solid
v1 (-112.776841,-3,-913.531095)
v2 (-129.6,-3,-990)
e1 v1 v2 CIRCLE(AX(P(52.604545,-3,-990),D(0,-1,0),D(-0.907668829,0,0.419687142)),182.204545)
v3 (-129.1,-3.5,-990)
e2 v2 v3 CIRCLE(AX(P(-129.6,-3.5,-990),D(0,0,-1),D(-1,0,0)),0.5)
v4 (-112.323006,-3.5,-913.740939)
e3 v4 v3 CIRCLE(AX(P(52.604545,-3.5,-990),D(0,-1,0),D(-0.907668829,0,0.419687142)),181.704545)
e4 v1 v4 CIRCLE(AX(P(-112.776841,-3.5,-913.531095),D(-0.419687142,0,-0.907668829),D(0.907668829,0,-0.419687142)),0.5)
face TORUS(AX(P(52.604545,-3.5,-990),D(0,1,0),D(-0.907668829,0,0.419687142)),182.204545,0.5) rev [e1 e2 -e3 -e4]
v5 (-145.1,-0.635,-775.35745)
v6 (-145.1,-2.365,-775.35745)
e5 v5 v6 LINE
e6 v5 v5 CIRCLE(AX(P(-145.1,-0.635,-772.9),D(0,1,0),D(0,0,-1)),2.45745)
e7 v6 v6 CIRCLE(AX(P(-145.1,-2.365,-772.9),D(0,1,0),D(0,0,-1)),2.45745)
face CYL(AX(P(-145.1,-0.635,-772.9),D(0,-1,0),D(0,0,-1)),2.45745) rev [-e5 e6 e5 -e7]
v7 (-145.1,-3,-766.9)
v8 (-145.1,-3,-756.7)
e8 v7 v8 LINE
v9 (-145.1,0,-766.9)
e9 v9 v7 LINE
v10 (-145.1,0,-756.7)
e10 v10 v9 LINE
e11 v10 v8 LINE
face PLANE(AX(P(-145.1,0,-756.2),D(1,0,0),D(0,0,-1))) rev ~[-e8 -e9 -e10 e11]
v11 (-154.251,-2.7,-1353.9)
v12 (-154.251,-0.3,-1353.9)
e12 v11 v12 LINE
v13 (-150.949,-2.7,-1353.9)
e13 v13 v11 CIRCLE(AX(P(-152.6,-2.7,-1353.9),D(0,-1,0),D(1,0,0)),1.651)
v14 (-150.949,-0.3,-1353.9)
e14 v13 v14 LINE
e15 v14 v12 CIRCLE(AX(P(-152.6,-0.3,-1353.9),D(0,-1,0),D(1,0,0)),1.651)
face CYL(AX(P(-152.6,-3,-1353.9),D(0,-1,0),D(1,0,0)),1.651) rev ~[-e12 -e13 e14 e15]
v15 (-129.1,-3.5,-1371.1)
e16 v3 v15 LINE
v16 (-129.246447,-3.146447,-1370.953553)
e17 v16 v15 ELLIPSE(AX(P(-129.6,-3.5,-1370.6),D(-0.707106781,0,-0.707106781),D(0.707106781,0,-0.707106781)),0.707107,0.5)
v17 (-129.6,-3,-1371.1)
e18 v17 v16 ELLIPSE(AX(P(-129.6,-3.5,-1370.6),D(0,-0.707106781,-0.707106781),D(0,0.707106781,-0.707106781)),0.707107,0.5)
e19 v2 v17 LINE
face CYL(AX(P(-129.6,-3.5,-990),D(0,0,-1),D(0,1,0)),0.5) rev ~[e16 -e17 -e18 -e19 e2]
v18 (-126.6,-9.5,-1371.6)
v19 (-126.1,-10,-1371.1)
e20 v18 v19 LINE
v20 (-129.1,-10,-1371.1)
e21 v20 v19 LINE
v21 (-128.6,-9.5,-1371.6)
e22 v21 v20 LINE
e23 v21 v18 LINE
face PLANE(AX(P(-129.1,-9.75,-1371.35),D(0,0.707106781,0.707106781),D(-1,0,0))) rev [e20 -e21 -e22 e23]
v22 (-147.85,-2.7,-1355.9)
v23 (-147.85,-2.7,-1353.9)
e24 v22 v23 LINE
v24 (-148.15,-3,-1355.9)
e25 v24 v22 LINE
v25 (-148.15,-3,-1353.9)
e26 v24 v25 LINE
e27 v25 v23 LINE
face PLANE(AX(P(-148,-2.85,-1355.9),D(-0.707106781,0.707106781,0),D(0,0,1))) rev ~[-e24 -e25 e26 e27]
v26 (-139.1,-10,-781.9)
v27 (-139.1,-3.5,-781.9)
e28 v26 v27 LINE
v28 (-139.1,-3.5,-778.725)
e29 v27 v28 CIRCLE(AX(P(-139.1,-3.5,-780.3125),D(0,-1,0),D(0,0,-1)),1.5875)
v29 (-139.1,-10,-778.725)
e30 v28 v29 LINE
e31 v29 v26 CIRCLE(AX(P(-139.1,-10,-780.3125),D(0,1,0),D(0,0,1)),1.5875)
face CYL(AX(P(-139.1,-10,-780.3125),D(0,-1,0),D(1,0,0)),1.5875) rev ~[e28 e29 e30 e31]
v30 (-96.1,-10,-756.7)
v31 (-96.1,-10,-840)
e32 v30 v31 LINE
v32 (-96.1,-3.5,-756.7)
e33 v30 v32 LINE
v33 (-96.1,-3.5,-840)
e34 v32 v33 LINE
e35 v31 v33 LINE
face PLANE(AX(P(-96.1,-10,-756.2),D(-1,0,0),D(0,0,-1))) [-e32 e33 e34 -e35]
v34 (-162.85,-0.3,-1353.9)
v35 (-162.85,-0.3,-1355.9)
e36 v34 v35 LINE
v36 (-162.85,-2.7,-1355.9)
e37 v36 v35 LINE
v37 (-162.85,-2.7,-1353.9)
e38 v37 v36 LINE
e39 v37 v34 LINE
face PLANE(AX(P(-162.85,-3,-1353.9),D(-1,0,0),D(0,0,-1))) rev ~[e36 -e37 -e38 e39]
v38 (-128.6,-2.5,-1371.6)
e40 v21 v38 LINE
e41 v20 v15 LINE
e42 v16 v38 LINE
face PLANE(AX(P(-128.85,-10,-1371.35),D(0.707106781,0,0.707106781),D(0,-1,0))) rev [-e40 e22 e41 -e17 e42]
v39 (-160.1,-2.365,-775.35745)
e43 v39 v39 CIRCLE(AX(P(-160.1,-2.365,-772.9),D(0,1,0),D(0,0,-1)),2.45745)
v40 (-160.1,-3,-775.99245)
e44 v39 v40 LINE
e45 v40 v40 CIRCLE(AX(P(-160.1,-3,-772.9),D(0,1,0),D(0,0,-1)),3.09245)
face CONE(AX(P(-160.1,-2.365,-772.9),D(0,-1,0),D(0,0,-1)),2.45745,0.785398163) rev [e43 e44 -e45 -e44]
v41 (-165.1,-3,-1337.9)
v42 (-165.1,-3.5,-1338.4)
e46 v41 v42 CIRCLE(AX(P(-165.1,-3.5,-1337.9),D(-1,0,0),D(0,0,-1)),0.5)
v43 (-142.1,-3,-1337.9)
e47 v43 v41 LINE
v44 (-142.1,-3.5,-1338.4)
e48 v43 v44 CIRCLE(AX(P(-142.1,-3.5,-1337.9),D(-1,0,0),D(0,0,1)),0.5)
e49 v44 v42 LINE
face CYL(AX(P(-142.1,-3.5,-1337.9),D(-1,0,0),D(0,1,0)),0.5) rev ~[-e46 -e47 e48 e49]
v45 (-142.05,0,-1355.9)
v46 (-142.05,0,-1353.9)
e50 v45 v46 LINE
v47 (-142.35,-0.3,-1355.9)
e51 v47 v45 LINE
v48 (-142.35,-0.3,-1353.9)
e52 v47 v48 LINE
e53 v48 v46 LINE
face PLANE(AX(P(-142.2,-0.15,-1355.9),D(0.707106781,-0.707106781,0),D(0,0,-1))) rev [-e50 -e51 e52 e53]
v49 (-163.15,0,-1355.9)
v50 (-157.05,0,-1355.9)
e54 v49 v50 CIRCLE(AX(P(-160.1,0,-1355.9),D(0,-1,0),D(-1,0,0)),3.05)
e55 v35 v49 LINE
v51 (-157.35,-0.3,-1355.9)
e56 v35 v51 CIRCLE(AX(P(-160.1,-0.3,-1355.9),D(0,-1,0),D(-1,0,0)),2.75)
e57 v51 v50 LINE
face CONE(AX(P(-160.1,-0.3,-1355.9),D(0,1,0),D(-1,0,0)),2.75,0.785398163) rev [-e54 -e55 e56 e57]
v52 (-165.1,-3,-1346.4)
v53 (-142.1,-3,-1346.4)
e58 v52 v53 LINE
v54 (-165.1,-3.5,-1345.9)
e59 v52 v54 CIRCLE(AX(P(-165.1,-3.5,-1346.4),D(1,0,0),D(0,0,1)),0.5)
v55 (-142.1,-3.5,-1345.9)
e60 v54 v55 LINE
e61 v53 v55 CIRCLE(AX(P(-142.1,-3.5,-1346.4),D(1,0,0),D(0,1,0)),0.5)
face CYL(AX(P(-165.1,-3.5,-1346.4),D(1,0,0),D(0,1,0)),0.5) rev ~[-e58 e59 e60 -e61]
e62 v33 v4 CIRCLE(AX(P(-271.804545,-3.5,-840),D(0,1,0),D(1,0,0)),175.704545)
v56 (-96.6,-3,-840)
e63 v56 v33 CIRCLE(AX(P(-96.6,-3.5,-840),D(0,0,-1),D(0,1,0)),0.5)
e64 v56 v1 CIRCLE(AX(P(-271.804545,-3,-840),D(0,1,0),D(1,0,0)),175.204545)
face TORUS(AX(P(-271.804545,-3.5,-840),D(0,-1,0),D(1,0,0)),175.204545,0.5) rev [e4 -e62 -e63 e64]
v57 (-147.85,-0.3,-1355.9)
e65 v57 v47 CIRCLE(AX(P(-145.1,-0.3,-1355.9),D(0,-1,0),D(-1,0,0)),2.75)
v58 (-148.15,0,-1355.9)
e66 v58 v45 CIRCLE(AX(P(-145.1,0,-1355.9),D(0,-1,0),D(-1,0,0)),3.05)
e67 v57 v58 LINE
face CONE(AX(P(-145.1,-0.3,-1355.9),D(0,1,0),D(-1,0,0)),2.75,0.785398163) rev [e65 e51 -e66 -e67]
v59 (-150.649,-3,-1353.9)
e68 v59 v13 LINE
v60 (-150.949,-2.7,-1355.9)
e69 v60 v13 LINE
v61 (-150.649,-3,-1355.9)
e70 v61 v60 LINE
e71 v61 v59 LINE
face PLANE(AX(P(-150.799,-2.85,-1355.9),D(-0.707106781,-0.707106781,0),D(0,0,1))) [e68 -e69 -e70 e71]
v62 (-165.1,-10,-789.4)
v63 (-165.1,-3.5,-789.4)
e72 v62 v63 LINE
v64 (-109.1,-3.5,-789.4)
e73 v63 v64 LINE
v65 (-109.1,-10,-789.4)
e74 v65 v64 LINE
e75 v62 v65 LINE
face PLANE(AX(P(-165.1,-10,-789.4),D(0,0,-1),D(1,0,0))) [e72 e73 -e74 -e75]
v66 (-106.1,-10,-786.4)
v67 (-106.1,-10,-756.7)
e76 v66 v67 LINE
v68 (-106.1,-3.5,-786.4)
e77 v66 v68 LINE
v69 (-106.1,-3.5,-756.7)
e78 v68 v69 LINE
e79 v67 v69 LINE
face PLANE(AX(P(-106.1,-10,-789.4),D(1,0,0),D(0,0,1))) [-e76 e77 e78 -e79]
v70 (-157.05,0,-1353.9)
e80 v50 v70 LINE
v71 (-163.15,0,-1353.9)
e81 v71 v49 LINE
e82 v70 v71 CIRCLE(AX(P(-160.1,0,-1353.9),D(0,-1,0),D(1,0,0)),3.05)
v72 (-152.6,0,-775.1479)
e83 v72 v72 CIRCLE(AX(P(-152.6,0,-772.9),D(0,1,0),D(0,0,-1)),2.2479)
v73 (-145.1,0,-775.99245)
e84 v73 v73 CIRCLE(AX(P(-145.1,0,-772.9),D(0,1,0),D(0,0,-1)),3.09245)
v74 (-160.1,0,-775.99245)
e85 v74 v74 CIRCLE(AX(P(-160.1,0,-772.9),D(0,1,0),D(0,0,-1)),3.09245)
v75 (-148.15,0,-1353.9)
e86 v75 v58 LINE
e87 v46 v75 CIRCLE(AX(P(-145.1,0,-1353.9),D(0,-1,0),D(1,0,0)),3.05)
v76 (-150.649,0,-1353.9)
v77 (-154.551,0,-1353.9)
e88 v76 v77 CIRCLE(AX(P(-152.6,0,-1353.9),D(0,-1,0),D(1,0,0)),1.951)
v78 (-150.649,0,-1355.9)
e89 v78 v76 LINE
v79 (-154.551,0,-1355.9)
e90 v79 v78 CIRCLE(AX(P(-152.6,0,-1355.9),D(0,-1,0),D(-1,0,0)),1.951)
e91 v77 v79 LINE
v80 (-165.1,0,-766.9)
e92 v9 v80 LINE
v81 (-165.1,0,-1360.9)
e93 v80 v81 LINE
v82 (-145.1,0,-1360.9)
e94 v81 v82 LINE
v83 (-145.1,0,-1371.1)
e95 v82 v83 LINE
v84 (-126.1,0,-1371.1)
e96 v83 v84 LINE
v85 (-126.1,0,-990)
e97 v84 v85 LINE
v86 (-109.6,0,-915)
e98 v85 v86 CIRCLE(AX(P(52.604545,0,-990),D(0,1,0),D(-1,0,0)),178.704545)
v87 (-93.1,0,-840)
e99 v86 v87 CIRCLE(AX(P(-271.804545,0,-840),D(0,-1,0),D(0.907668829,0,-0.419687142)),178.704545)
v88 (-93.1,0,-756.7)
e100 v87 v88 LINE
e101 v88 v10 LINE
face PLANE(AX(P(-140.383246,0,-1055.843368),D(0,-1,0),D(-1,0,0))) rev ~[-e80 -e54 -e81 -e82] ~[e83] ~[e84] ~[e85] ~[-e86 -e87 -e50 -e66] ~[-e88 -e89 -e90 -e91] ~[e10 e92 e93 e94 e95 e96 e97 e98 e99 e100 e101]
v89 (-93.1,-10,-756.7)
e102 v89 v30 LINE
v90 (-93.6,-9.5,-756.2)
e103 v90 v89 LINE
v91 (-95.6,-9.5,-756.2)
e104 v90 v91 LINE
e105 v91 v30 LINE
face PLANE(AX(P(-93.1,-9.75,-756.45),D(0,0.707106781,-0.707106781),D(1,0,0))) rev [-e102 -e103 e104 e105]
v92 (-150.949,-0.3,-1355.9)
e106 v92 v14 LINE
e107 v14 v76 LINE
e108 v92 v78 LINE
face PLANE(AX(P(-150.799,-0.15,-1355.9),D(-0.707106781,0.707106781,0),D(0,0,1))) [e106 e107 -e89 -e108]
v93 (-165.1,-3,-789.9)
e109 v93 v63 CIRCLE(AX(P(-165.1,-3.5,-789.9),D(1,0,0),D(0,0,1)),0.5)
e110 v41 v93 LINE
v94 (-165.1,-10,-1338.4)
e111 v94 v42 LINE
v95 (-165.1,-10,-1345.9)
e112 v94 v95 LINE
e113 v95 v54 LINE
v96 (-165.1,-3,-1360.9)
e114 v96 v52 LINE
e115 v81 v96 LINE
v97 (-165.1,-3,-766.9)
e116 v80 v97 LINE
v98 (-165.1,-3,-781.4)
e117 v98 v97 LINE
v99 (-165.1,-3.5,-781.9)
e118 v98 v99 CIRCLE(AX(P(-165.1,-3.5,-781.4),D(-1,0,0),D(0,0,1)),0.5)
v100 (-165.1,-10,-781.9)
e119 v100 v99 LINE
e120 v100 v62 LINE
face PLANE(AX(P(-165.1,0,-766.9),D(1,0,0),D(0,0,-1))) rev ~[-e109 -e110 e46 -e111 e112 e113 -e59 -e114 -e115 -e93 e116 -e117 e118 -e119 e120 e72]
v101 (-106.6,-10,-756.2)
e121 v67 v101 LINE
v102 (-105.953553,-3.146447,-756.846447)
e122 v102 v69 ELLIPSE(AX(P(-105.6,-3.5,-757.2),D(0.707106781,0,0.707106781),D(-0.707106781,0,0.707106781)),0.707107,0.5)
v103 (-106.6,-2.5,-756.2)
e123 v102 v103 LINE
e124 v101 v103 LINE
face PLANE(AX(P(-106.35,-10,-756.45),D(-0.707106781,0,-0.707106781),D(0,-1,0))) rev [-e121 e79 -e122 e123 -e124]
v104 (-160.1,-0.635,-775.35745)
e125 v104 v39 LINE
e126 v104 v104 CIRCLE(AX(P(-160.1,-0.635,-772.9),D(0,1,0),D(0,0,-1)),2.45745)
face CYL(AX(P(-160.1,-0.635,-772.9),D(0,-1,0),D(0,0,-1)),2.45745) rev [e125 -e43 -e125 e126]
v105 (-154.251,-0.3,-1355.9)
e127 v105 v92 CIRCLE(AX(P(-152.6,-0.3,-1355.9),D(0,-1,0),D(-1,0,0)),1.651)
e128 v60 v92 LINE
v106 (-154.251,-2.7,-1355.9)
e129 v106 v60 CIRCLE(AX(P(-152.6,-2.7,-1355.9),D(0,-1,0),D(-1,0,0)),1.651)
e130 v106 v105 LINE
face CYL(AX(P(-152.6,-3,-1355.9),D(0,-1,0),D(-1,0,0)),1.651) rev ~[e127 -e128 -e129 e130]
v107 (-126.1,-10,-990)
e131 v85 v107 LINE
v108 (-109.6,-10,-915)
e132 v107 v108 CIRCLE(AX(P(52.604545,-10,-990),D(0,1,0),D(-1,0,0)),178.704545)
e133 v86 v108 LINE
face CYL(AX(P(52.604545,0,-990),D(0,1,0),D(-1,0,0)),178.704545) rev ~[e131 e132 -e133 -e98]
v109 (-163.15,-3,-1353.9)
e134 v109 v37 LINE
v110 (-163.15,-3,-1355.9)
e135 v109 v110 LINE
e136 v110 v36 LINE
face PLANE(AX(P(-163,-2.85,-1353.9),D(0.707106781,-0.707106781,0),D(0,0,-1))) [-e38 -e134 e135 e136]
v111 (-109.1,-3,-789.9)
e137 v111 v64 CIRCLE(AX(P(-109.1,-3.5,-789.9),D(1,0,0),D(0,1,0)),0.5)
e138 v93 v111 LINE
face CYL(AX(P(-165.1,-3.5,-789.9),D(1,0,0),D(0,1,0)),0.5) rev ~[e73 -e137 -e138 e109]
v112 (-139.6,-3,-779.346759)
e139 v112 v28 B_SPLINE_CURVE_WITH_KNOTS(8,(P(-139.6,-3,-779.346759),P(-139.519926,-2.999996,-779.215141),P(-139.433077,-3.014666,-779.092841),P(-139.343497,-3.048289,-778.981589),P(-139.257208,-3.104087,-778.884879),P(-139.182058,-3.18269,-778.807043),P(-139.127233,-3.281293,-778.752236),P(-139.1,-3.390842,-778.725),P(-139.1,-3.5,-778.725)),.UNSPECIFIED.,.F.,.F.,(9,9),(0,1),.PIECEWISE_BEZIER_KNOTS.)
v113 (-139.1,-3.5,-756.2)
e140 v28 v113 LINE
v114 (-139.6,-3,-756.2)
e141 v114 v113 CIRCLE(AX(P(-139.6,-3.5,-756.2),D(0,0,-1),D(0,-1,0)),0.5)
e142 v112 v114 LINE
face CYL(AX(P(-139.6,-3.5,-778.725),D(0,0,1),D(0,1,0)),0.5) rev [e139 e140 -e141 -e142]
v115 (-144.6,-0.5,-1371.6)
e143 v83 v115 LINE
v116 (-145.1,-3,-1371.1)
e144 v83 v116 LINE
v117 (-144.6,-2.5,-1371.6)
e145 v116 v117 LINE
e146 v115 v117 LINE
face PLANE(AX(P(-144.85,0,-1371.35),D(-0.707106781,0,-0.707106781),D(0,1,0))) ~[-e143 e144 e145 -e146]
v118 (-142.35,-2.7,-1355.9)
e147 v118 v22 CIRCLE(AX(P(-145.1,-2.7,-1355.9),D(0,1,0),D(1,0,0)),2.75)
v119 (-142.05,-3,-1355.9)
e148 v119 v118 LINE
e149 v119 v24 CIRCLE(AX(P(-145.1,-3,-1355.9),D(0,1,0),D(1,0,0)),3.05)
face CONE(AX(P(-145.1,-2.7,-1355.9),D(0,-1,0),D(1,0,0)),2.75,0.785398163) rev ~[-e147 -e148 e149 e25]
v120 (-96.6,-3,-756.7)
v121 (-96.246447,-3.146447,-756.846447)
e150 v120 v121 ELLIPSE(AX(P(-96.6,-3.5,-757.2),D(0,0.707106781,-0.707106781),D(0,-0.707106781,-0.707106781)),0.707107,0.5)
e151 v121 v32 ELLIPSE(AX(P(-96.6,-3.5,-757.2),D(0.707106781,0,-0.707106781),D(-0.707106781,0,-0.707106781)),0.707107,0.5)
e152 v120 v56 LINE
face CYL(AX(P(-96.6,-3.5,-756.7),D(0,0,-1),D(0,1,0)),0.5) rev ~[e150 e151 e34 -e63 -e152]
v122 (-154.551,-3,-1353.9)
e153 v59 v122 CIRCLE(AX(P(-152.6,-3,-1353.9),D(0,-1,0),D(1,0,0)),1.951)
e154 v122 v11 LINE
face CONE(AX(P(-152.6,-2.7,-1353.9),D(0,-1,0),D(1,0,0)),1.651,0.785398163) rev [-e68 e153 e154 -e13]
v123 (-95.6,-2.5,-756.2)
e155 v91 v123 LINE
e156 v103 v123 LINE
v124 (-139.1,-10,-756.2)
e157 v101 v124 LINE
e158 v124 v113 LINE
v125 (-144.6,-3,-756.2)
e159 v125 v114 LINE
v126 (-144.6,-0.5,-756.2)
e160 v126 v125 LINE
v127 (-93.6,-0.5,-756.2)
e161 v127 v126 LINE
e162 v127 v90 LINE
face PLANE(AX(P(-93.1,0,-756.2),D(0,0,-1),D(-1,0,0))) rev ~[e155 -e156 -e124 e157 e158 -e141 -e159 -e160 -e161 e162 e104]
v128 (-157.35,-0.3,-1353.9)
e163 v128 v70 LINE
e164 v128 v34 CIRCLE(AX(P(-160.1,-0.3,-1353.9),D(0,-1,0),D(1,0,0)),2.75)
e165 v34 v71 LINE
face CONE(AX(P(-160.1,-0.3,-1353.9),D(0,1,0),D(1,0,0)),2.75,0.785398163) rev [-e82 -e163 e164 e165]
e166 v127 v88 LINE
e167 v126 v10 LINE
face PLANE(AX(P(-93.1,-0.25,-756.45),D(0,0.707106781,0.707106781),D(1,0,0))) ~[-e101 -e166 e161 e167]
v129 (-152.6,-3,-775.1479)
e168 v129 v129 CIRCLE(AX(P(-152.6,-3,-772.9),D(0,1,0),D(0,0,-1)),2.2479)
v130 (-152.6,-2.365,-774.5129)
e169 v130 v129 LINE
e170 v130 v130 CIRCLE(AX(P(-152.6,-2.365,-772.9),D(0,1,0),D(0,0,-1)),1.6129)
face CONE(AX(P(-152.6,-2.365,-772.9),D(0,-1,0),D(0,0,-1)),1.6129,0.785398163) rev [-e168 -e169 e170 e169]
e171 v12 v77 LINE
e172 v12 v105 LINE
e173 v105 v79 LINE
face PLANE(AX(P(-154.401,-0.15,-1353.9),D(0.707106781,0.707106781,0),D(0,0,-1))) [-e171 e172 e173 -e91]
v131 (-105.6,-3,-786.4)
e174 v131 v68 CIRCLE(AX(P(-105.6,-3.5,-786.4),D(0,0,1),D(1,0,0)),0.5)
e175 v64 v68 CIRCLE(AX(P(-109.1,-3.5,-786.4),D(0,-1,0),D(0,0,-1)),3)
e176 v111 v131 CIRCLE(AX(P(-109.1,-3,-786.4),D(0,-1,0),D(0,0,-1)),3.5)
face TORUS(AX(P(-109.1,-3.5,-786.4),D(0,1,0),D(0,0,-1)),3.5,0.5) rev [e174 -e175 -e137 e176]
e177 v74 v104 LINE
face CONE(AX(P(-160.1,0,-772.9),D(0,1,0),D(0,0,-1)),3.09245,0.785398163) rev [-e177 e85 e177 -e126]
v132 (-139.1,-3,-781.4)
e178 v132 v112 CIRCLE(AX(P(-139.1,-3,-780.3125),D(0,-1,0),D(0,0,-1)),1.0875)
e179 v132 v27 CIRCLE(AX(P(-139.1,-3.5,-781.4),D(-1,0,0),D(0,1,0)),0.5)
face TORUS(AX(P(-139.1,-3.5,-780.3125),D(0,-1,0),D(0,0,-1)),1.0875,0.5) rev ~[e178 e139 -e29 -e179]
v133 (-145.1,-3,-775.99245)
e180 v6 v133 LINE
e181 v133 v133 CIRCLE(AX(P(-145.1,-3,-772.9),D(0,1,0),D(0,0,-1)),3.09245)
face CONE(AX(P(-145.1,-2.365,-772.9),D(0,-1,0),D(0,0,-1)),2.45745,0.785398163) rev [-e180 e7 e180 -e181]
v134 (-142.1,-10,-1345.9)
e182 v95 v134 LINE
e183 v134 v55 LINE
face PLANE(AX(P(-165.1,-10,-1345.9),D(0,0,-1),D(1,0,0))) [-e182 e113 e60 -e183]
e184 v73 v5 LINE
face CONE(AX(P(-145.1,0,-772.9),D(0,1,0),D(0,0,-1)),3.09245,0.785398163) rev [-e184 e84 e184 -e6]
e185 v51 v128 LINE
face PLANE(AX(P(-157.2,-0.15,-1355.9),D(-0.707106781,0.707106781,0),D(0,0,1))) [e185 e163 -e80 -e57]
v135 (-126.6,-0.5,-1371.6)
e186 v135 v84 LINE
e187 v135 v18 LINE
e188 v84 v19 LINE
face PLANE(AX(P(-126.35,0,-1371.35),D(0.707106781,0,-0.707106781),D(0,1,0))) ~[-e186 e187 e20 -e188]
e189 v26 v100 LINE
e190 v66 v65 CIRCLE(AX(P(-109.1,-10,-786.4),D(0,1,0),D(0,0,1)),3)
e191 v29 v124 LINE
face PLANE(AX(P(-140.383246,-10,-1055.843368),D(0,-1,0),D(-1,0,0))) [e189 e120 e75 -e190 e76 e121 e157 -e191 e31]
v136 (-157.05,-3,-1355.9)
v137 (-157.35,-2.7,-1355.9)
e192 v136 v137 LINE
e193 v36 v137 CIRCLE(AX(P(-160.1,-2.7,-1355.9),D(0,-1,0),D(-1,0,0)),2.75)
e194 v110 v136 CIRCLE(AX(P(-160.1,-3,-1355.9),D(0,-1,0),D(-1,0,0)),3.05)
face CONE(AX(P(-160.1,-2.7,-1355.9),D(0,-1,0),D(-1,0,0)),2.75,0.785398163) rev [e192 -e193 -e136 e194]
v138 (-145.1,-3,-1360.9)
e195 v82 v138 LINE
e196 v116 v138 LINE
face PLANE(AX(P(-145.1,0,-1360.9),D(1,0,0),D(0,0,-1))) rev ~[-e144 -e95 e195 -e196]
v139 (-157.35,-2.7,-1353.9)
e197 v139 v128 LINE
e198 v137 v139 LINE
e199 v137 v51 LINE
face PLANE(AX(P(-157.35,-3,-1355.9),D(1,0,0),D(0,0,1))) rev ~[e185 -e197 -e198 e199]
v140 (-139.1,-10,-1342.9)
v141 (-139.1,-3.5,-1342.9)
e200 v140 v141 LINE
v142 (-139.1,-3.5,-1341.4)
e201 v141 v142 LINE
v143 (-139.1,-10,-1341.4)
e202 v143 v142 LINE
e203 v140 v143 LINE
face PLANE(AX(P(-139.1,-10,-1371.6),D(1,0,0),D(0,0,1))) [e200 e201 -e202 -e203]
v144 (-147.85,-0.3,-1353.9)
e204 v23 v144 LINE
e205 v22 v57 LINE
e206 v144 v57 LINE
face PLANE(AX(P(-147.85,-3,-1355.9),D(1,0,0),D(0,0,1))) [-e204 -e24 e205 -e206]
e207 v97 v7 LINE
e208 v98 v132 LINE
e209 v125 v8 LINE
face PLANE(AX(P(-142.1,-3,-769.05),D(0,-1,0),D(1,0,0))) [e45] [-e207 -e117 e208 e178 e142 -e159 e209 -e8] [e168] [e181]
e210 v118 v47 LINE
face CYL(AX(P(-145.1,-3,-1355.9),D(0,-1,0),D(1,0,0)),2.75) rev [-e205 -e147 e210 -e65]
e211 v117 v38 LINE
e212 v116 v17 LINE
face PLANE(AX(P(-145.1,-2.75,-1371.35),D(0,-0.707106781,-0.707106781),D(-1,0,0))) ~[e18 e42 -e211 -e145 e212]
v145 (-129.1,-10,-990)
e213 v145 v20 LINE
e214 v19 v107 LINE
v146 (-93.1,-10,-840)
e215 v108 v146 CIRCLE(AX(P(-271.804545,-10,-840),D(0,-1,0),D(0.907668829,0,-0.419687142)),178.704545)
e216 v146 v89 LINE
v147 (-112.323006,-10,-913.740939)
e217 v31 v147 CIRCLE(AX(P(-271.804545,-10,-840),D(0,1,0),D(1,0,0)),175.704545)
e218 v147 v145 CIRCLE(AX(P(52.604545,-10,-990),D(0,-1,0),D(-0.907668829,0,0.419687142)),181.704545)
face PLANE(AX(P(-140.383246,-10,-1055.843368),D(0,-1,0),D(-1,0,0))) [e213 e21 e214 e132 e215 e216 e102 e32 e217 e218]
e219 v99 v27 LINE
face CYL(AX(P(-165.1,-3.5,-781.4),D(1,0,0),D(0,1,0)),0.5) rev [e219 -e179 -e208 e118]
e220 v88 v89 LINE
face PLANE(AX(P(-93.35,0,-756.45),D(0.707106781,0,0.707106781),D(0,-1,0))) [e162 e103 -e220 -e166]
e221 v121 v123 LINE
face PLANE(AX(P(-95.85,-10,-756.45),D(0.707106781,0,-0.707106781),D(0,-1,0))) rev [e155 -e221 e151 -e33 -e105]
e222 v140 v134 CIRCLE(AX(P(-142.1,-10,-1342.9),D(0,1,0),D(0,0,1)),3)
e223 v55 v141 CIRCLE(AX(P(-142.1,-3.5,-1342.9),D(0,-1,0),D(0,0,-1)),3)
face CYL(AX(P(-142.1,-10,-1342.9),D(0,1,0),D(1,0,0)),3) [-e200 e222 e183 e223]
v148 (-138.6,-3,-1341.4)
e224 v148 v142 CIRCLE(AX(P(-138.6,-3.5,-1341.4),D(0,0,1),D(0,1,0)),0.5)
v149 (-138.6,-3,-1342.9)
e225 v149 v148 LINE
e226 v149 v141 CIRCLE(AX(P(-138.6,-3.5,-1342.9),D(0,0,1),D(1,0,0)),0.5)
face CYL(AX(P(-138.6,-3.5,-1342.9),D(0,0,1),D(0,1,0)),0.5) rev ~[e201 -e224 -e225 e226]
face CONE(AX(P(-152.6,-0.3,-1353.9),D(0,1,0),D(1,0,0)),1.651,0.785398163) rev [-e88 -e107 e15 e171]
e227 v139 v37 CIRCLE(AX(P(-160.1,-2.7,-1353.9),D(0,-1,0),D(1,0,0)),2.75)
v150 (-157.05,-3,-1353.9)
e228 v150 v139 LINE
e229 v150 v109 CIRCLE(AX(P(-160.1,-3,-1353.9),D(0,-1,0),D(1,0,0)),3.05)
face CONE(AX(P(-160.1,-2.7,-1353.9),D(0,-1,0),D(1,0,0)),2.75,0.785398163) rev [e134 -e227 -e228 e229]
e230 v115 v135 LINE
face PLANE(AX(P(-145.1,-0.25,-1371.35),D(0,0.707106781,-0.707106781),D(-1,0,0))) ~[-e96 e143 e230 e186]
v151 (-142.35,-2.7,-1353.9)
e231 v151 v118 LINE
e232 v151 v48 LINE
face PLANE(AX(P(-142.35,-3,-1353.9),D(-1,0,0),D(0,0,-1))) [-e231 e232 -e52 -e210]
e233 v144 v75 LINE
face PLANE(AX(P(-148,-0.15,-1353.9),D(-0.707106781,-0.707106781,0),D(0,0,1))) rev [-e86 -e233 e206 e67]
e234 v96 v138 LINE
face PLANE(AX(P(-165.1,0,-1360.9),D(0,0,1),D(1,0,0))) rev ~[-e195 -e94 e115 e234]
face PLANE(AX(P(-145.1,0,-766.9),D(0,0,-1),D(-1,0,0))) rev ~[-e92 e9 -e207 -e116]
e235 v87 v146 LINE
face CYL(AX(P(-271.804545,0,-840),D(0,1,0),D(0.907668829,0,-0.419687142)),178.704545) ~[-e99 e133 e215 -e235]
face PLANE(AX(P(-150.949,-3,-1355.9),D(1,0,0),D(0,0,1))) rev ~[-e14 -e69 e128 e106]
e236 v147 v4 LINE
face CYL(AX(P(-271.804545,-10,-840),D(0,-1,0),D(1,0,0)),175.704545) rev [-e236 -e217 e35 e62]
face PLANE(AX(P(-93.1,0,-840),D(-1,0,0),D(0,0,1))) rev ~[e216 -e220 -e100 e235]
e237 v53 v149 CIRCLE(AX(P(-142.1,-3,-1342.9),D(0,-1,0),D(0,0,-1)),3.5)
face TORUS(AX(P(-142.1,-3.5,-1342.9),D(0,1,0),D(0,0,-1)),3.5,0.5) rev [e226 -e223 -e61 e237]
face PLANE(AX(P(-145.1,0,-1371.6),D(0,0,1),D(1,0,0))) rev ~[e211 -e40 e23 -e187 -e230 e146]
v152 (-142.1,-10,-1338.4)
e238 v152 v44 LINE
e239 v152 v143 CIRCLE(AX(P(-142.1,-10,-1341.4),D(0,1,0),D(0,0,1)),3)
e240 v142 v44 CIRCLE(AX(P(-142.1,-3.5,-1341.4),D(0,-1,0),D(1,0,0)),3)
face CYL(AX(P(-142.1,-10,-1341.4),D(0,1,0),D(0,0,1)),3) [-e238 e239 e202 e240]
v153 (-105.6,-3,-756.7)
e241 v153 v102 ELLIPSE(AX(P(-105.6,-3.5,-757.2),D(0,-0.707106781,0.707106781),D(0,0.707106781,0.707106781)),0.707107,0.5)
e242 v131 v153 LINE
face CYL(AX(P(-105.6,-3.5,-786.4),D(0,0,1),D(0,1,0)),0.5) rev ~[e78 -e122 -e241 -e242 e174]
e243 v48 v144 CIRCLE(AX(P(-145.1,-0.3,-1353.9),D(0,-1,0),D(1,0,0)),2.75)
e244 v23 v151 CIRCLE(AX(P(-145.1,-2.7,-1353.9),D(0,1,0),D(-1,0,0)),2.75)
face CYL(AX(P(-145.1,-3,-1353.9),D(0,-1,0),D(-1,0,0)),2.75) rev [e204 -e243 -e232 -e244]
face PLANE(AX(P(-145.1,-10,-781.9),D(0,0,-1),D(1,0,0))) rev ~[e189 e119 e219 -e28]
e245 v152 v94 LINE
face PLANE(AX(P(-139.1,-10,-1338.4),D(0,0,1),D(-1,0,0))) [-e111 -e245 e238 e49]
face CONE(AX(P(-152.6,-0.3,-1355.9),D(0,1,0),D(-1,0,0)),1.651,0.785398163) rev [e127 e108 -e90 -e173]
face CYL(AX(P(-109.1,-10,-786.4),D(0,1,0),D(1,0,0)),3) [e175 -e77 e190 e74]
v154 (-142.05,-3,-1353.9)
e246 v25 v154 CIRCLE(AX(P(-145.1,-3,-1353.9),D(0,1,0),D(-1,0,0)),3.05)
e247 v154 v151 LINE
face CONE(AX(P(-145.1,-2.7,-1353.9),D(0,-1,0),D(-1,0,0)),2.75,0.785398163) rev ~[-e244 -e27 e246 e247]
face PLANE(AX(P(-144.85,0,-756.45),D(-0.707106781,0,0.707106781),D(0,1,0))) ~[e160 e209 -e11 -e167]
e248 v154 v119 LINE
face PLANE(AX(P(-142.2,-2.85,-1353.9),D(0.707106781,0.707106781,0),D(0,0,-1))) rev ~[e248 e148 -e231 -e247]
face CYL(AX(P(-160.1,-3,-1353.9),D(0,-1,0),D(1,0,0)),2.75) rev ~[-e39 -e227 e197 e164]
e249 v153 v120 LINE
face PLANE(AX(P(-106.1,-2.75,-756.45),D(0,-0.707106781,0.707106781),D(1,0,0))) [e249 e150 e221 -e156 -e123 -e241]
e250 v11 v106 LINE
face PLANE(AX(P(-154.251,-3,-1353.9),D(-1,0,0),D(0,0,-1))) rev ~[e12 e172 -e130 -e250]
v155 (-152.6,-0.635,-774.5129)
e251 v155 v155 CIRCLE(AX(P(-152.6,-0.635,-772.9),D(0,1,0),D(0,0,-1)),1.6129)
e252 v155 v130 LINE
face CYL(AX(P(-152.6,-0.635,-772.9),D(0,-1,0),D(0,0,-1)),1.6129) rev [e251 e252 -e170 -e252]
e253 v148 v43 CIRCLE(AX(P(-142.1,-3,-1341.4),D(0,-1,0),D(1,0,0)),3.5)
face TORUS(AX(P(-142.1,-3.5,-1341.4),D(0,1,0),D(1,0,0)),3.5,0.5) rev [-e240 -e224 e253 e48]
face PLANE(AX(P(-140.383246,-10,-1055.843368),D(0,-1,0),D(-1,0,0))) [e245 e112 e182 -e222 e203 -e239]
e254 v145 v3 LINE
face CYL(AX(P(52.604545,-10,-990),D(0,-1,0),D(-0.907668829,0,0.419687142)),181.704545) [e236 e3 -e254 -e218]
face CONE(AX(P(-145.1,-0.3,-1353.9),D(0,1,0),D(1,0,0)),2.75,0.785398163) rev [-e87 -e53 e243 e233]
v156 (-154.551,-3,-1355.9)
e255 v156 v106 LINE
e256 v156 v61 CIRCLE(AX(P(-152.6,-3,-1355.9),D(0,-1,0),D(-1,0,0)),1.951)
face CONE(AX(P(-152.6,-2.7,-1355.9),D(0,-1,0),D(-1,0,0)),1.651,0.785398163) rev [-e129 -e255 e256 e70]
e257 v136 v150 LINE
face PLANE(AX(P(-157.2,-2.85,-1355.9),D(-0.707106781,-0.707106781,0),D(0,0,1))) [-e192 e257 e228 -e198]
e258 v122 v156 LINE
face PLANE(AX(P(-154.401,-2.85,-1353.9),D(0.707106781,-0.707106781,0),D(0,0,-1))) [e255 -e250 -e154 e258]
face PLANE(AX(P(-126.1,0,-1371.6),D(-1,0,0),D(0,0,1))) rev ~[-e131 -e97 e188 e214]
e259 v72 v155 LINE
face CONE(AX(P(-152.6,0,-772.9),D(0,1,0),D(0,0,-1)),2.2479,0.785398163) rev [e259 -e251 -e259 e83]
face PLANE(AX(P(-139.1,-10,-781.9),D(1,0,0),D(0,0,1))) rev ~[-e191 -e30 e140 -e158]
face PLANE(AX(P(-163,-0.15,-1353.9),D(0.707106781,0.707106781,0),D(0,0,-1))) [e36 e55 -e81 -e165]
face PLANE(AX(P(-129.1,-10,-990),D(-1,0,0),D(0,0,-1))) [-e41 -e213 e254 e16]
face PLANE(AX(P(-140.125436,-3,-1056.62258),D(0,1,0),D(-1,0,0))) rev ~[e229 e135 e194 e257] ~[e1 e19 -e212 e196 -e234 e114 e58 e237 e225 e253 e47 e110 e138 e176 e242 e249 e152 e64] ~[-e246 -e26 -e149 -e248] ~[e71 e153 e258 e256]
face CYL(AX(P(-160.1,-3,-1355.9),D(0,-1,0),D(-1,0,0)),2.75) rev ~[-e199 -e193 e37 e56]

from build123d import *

# Parameters (mm, degrees)
EXTRUDE1_DEPTH                 = 10
EXTRUDE2_DEPTH                 = 7
SKETCH5_W                      = 20
SKETCH5_H                      = 15
SKETCH5_W_2                    = 26
EXTRUDE3_DEPTH                 = 7
SKETCH15_W                     = 6
SKETCH15_H                     = 10.7
SKETCH15_H_2                   = 25.7
EXTRUDE9_DEPTH                 = 7
F_8_CLEARANCE_HOLE1_AT_2_COUNT = 2
F_8_CLEARANCE_HOLE1_AT_2_PITCH = 15
EXTRUDE6_DEPTH                 = 4
SKETCH16_R                     = 1.5875
EXTRUDE10_DEPTH                = 7
CHAMFER1_SIZE                  = 0.3
CHAMFER2_SIZE                  = 0.5
CHAMFER3_SIZE                  = 0.3
FILLET3_R                      = 3
FILLET2_R                      = 0.5


with BuildPart() as part:
    # Sketch1 → Extrude1 (new body)
    with BuildSketch(Plane(origin=(0, 0, 0), x_dir=(1, 0, 0), z_dir=(0, 1, 0))):
        with BuildLine():
            Line((-93.1, 756.2), (-145.1, 756.2))
            Line((-145.1, 756.2), (-145.1, 766.9))
            Line((-145.1, 766.9), (-165.1, 766.9))
            Line((-165.1, 766.9), (-165.1, 1360.9))
            Line((-165.1, 1360.9), (-145.1, 1360.9))
            Line((-145.1, 1360.9), (-145.1, 1371.6))
            Line((-145.1, 1371.6), (-126.1, 1371.6))
            Line((-126.1, 1371.6), (-126.1, 990))
            ThreePointArc((-126.1, 990), (-121.926260039, 951.603222791), (-109.6, 915))
            ThreePointArc((-109.6, 915), (-97.273739961, 878.396777209), (-93.1, 840))
            Line((-93.1, 840), (-93.1, 756.2))
        make_face()
    extrude(amount=-EXTRUDE1_DEPTH)

    # Sketch4 → Extrude2 (cut)
    with BuildSketch(Plane.XZ.offset(10)):
        with BuildLine():
            Line((-165.1, -789.4), (-106.1, -789.4))
            Line((-106.1, -789.4), (-106.1, -756.2))
            Line((-106.1, -756.2), (-96.1, -756.2))
            Line((-96.1, -756.2), (-96.1, -840))
            ThreePointArc((-96.1, -840), (-100.203673361, -877.75219186), (-112.323006486, -913.740938573))
            ThreePointArc((-112.323006486, -913.740938573), (-124.856193439, -950.958637443), (-129.1, -990))
            Line((-129.1, -990), (-129.1, -1371.6))
            Line((-129.1, -1371.6), (-139.1, -1371.6))
            Line((-139.1, -1371.6), (-139.1, -1338.4))
            Line((-139.1, -1338.4), (-165.1, -1338.4))
            Line((-165.1, -1338.4), (-165.1, -789.4))
        make_face()
    extrude(amount=-EXTRUDE2_DEPTH, mode=Mode.SUBTRACT)

    # Sketch5 → Extrude3 (cut)
    with BuildSketch(Plane.XZ.offset(10)):
        with Locations((-155.1, -774.4)):
            Rectangle(SKETCH5_W, SKETCH5_H)
        with Locations((-152.1, -1353.4)):
            Rectangle(SKETCH5_W_2, SKETCH5_H)
    extrude(amount=-EXTRUDE3_DEPTH, mode=Mode.SUBTRACT)

    # Sketch15 → Extrude9 (cut)
    with BuildSketch(Plane.XZ.offset(10)):
        with Locations((-142.1, -1366.25)):
            Rectangle(SKETCH15_W, SKETCH15_H)
        with Locations((-142.1, -769.05)):
            Rectangle(SKETCH15_W, SKETCH15_H_2)
    extrude(amount=-EXTRUDE9_DEPTH, mode=Mode.SUBTRACT)

    # Sketch9 → 1/8 (0.125) Diameter Hole1 (revolve, cut)
    with BuildSketch(Plane(origin=(-152.6, -3, -772.9), x_dir=(0, 0, -1), z_dir=(1, 0, 0))):
        Polygon((0, 0), (0, 3), (2.2479, 3), (1.6129, 2.365), (1.6129, 0.635), (2.2479, 0), align=None)
    revolve(axis=Axis((-152.6, -9.35, -772.9), (0, 1, 0)), mode=Mode.SUBTRACT)

    # Sketch10 → #8 Clearance Hole1 (revolve, cut)
    with BuildSketch(Plane(origin=(-160.1, -3, -772.9), x_dir=(0, 0, -1), z_dir=(1, 0, 0))):
        Polygon((0, 0), (0, 3), (3.09245, 3), (2.45745, 2.365), (2.45745, 0.635), (3.09245, 0), align=None)
    f_8_clearance_hole1 = revolve(axis=Axis((-160.1, -9.35, -772.9), (0, 1, 0)), mode=Mode.SUBTRACT)

    # #8 Clearance Hole1 at 2: #8 Clearance Hole1 ×2
    with Locations(*[(i * F_8_CLEARANCE_HOLE1_AT_2_PITCH, 0, 0) for i in range(1, F_8_CLEARANCE_HOLE1_AT_2_COUNT)]):
        add(f_8_clearance_hole1, mode=Mode.SUBTRACT)

    # Sketch12 → Extrude6 (cut, through all)
    with BuildSketch(Plane.XZ.offset(3)):
        with BuildLine():
            Line((-154.251, -1353.9), (-154.251, -1355.9))
            ThreePointArc((-154.251, -1355.9), (-152.6, -1357.551), (-150.949, -1355.9))
            Line((-150.949, -1355.9), (-150.949, -1353.9))
            ThreePointArc((-150.949, -1353.9), (-152.6, -1352.249), (-154.251, -1353.9))
        make_face()
        with BuildLine():
            Line((-142.35, -1353.9), (-142.35, -1355.9))
            ThreePointArc((-142.35, -1355.9), (-145.1, -1358.65), (-147.85, -1355.9))
            Line((-147.85, -1355.9), (-147.85, -1353.9))
            ThreePointArc((-147.85, -1353.9), (-145.1, -1351.15), (-142.35, -1353.9))
        make_face()
        with BuildLine():
            Line((-162.85, -1353.9), (-162.85, -1355.9))
            ThreePointArc((-162.85, -1355.9), (-160.1, -1358.65), (-157.35, -1355.9))
            Line((-157.35, -1355.9), (-157.35, -1353.9))
            ThreePointArc((-157.35, -1353.9), (-160.1, -1351.15), (-162.85, -1353.9))
        make_face()
    extrude(amount=-EXTRUDE6_DEPTH, mode=Mode.SUBTRACT)

    # Sketch16 → Extrude10 (cut)
    with BuildSketch(Plane.XZ.offset(10)):
        with Locations((-139.1, -780.3125)):
            Circle(SKETCH16_R)
    extrude(amount=-EXTRUDE10_DEPTH, mode=Mode.SUBTRACT)

    # Chamfer1
    chamfer1_edges = [part.edges().sort_by_distance(p)[0] for p in [
        (-152.6, 0, -1352.249),
        (-150.949, 0, -1354.9),
        (-152.6, 0, -1357.551),
        (-154.251, 0, -1354.9),
        (-152.6, -3, -1352.249),
        (-154.251, -3, -1354.9),
        (-152.6, -3, -1357.551),
        (-150.949, -3, -1354.9),
    ]]
    chamfer(chamfer1_edges, length=CHAMFER1_SIZE)

    # Chamfer2
    chamfer2_edges = [part.edges().sort_by_distance(p)[0] for p in [
        (-94.6, -10, -756.2),
        (-93.1, -5, -756.2),
        (-119.1, 0, -756.2),
        (-145.1, -1.5, -756.2),
        (-106.1, -6.5, -756.2),
        (-101.1, -3, -756.2),
        (-96.1, -6.5, -756.2),
        (-126.1, -5, -1371.6),
        (-127.6, -10, -1371.6),
        (-129.1, -6.5, -1371.6),
        (-137.1, -3, -1371.6),
        (-145.1, -1.5, -1371.6),
        (-135.6, 0, -1371.6),
    ]]
    chamfer(chamfer2_edges, length=CHAMFER2_SIZE)

    # Chamfer3
    chamfer3_edges = [part.edges().sort_by_distance(p)[0] for p in [
        (-145.1, 0, -1351.15),
        (-142.35, 0, -1354.9),
        (-145.1, 0, -1358.65),
        (-147.85, 0, -1354.9),
        (-145.1, -3, -1351.15),
        (-147.85, -3, -1354.9),
        (-145.1, -3, -1358.65),
        (-142.35, -3, -1354.9),
        (-160.1, 0, -1351.15),
        (-157.35, 0, -1354.9),
        (-160.1, 0, -1358.65),
        (-162.85, 0, -1354.9),
        (-160.1, -3, -1351.15),
        (-162.85, -3, -1354.9),
        (-160.1, -3, -1358.65),
        (-157.35, -3, -1354.9),
    ]]
    chamfer(chamfer3_edges, length=CHAMFER3_SIZE)

    # Fillet3
    fillet3_edges = [part.edges().sort_by_distance(p)[0] for p in [
        (-106.1, -6.5, -789.4),
        (-139.1, -6.5, -1338.4),
        (-139.1, -6.5, -1345.9),
    ]]
    fillet(fillet3_edges, radius=FILLET3_R)

    # Fillet2
    fillet2_edges = [part.edges().sort_by_distance(p)[0] for p in [
        (-139.1, -3, -767.4625),
        (-137.5125, -3, -780.3125),
        (-96.1, -3, -798.35),
        (-139.1, -3, -1342.15),
        (-153.6, -3, -1338.4),
        (-106.1, -3, -771.55),
        (-139.978679656, -3, -1339.278679656),
        (-139.978679656, -3, -1345.021320344),
        (-106.978679656, -3, -788.521320344),
        (-137.1, -3, -789.4),
        (-100.203673361, -3, -877.75219186),
        (-124.856193439, -3, -950.958637443),
        (-129.1, -3, -1180.55),
        (-153.6, -3, -1345.9),
        (-152.1, -3, -781.9),
    ]]
    fillet(fillet2_edges, radius=FILLET2_R)


solid = part.part
